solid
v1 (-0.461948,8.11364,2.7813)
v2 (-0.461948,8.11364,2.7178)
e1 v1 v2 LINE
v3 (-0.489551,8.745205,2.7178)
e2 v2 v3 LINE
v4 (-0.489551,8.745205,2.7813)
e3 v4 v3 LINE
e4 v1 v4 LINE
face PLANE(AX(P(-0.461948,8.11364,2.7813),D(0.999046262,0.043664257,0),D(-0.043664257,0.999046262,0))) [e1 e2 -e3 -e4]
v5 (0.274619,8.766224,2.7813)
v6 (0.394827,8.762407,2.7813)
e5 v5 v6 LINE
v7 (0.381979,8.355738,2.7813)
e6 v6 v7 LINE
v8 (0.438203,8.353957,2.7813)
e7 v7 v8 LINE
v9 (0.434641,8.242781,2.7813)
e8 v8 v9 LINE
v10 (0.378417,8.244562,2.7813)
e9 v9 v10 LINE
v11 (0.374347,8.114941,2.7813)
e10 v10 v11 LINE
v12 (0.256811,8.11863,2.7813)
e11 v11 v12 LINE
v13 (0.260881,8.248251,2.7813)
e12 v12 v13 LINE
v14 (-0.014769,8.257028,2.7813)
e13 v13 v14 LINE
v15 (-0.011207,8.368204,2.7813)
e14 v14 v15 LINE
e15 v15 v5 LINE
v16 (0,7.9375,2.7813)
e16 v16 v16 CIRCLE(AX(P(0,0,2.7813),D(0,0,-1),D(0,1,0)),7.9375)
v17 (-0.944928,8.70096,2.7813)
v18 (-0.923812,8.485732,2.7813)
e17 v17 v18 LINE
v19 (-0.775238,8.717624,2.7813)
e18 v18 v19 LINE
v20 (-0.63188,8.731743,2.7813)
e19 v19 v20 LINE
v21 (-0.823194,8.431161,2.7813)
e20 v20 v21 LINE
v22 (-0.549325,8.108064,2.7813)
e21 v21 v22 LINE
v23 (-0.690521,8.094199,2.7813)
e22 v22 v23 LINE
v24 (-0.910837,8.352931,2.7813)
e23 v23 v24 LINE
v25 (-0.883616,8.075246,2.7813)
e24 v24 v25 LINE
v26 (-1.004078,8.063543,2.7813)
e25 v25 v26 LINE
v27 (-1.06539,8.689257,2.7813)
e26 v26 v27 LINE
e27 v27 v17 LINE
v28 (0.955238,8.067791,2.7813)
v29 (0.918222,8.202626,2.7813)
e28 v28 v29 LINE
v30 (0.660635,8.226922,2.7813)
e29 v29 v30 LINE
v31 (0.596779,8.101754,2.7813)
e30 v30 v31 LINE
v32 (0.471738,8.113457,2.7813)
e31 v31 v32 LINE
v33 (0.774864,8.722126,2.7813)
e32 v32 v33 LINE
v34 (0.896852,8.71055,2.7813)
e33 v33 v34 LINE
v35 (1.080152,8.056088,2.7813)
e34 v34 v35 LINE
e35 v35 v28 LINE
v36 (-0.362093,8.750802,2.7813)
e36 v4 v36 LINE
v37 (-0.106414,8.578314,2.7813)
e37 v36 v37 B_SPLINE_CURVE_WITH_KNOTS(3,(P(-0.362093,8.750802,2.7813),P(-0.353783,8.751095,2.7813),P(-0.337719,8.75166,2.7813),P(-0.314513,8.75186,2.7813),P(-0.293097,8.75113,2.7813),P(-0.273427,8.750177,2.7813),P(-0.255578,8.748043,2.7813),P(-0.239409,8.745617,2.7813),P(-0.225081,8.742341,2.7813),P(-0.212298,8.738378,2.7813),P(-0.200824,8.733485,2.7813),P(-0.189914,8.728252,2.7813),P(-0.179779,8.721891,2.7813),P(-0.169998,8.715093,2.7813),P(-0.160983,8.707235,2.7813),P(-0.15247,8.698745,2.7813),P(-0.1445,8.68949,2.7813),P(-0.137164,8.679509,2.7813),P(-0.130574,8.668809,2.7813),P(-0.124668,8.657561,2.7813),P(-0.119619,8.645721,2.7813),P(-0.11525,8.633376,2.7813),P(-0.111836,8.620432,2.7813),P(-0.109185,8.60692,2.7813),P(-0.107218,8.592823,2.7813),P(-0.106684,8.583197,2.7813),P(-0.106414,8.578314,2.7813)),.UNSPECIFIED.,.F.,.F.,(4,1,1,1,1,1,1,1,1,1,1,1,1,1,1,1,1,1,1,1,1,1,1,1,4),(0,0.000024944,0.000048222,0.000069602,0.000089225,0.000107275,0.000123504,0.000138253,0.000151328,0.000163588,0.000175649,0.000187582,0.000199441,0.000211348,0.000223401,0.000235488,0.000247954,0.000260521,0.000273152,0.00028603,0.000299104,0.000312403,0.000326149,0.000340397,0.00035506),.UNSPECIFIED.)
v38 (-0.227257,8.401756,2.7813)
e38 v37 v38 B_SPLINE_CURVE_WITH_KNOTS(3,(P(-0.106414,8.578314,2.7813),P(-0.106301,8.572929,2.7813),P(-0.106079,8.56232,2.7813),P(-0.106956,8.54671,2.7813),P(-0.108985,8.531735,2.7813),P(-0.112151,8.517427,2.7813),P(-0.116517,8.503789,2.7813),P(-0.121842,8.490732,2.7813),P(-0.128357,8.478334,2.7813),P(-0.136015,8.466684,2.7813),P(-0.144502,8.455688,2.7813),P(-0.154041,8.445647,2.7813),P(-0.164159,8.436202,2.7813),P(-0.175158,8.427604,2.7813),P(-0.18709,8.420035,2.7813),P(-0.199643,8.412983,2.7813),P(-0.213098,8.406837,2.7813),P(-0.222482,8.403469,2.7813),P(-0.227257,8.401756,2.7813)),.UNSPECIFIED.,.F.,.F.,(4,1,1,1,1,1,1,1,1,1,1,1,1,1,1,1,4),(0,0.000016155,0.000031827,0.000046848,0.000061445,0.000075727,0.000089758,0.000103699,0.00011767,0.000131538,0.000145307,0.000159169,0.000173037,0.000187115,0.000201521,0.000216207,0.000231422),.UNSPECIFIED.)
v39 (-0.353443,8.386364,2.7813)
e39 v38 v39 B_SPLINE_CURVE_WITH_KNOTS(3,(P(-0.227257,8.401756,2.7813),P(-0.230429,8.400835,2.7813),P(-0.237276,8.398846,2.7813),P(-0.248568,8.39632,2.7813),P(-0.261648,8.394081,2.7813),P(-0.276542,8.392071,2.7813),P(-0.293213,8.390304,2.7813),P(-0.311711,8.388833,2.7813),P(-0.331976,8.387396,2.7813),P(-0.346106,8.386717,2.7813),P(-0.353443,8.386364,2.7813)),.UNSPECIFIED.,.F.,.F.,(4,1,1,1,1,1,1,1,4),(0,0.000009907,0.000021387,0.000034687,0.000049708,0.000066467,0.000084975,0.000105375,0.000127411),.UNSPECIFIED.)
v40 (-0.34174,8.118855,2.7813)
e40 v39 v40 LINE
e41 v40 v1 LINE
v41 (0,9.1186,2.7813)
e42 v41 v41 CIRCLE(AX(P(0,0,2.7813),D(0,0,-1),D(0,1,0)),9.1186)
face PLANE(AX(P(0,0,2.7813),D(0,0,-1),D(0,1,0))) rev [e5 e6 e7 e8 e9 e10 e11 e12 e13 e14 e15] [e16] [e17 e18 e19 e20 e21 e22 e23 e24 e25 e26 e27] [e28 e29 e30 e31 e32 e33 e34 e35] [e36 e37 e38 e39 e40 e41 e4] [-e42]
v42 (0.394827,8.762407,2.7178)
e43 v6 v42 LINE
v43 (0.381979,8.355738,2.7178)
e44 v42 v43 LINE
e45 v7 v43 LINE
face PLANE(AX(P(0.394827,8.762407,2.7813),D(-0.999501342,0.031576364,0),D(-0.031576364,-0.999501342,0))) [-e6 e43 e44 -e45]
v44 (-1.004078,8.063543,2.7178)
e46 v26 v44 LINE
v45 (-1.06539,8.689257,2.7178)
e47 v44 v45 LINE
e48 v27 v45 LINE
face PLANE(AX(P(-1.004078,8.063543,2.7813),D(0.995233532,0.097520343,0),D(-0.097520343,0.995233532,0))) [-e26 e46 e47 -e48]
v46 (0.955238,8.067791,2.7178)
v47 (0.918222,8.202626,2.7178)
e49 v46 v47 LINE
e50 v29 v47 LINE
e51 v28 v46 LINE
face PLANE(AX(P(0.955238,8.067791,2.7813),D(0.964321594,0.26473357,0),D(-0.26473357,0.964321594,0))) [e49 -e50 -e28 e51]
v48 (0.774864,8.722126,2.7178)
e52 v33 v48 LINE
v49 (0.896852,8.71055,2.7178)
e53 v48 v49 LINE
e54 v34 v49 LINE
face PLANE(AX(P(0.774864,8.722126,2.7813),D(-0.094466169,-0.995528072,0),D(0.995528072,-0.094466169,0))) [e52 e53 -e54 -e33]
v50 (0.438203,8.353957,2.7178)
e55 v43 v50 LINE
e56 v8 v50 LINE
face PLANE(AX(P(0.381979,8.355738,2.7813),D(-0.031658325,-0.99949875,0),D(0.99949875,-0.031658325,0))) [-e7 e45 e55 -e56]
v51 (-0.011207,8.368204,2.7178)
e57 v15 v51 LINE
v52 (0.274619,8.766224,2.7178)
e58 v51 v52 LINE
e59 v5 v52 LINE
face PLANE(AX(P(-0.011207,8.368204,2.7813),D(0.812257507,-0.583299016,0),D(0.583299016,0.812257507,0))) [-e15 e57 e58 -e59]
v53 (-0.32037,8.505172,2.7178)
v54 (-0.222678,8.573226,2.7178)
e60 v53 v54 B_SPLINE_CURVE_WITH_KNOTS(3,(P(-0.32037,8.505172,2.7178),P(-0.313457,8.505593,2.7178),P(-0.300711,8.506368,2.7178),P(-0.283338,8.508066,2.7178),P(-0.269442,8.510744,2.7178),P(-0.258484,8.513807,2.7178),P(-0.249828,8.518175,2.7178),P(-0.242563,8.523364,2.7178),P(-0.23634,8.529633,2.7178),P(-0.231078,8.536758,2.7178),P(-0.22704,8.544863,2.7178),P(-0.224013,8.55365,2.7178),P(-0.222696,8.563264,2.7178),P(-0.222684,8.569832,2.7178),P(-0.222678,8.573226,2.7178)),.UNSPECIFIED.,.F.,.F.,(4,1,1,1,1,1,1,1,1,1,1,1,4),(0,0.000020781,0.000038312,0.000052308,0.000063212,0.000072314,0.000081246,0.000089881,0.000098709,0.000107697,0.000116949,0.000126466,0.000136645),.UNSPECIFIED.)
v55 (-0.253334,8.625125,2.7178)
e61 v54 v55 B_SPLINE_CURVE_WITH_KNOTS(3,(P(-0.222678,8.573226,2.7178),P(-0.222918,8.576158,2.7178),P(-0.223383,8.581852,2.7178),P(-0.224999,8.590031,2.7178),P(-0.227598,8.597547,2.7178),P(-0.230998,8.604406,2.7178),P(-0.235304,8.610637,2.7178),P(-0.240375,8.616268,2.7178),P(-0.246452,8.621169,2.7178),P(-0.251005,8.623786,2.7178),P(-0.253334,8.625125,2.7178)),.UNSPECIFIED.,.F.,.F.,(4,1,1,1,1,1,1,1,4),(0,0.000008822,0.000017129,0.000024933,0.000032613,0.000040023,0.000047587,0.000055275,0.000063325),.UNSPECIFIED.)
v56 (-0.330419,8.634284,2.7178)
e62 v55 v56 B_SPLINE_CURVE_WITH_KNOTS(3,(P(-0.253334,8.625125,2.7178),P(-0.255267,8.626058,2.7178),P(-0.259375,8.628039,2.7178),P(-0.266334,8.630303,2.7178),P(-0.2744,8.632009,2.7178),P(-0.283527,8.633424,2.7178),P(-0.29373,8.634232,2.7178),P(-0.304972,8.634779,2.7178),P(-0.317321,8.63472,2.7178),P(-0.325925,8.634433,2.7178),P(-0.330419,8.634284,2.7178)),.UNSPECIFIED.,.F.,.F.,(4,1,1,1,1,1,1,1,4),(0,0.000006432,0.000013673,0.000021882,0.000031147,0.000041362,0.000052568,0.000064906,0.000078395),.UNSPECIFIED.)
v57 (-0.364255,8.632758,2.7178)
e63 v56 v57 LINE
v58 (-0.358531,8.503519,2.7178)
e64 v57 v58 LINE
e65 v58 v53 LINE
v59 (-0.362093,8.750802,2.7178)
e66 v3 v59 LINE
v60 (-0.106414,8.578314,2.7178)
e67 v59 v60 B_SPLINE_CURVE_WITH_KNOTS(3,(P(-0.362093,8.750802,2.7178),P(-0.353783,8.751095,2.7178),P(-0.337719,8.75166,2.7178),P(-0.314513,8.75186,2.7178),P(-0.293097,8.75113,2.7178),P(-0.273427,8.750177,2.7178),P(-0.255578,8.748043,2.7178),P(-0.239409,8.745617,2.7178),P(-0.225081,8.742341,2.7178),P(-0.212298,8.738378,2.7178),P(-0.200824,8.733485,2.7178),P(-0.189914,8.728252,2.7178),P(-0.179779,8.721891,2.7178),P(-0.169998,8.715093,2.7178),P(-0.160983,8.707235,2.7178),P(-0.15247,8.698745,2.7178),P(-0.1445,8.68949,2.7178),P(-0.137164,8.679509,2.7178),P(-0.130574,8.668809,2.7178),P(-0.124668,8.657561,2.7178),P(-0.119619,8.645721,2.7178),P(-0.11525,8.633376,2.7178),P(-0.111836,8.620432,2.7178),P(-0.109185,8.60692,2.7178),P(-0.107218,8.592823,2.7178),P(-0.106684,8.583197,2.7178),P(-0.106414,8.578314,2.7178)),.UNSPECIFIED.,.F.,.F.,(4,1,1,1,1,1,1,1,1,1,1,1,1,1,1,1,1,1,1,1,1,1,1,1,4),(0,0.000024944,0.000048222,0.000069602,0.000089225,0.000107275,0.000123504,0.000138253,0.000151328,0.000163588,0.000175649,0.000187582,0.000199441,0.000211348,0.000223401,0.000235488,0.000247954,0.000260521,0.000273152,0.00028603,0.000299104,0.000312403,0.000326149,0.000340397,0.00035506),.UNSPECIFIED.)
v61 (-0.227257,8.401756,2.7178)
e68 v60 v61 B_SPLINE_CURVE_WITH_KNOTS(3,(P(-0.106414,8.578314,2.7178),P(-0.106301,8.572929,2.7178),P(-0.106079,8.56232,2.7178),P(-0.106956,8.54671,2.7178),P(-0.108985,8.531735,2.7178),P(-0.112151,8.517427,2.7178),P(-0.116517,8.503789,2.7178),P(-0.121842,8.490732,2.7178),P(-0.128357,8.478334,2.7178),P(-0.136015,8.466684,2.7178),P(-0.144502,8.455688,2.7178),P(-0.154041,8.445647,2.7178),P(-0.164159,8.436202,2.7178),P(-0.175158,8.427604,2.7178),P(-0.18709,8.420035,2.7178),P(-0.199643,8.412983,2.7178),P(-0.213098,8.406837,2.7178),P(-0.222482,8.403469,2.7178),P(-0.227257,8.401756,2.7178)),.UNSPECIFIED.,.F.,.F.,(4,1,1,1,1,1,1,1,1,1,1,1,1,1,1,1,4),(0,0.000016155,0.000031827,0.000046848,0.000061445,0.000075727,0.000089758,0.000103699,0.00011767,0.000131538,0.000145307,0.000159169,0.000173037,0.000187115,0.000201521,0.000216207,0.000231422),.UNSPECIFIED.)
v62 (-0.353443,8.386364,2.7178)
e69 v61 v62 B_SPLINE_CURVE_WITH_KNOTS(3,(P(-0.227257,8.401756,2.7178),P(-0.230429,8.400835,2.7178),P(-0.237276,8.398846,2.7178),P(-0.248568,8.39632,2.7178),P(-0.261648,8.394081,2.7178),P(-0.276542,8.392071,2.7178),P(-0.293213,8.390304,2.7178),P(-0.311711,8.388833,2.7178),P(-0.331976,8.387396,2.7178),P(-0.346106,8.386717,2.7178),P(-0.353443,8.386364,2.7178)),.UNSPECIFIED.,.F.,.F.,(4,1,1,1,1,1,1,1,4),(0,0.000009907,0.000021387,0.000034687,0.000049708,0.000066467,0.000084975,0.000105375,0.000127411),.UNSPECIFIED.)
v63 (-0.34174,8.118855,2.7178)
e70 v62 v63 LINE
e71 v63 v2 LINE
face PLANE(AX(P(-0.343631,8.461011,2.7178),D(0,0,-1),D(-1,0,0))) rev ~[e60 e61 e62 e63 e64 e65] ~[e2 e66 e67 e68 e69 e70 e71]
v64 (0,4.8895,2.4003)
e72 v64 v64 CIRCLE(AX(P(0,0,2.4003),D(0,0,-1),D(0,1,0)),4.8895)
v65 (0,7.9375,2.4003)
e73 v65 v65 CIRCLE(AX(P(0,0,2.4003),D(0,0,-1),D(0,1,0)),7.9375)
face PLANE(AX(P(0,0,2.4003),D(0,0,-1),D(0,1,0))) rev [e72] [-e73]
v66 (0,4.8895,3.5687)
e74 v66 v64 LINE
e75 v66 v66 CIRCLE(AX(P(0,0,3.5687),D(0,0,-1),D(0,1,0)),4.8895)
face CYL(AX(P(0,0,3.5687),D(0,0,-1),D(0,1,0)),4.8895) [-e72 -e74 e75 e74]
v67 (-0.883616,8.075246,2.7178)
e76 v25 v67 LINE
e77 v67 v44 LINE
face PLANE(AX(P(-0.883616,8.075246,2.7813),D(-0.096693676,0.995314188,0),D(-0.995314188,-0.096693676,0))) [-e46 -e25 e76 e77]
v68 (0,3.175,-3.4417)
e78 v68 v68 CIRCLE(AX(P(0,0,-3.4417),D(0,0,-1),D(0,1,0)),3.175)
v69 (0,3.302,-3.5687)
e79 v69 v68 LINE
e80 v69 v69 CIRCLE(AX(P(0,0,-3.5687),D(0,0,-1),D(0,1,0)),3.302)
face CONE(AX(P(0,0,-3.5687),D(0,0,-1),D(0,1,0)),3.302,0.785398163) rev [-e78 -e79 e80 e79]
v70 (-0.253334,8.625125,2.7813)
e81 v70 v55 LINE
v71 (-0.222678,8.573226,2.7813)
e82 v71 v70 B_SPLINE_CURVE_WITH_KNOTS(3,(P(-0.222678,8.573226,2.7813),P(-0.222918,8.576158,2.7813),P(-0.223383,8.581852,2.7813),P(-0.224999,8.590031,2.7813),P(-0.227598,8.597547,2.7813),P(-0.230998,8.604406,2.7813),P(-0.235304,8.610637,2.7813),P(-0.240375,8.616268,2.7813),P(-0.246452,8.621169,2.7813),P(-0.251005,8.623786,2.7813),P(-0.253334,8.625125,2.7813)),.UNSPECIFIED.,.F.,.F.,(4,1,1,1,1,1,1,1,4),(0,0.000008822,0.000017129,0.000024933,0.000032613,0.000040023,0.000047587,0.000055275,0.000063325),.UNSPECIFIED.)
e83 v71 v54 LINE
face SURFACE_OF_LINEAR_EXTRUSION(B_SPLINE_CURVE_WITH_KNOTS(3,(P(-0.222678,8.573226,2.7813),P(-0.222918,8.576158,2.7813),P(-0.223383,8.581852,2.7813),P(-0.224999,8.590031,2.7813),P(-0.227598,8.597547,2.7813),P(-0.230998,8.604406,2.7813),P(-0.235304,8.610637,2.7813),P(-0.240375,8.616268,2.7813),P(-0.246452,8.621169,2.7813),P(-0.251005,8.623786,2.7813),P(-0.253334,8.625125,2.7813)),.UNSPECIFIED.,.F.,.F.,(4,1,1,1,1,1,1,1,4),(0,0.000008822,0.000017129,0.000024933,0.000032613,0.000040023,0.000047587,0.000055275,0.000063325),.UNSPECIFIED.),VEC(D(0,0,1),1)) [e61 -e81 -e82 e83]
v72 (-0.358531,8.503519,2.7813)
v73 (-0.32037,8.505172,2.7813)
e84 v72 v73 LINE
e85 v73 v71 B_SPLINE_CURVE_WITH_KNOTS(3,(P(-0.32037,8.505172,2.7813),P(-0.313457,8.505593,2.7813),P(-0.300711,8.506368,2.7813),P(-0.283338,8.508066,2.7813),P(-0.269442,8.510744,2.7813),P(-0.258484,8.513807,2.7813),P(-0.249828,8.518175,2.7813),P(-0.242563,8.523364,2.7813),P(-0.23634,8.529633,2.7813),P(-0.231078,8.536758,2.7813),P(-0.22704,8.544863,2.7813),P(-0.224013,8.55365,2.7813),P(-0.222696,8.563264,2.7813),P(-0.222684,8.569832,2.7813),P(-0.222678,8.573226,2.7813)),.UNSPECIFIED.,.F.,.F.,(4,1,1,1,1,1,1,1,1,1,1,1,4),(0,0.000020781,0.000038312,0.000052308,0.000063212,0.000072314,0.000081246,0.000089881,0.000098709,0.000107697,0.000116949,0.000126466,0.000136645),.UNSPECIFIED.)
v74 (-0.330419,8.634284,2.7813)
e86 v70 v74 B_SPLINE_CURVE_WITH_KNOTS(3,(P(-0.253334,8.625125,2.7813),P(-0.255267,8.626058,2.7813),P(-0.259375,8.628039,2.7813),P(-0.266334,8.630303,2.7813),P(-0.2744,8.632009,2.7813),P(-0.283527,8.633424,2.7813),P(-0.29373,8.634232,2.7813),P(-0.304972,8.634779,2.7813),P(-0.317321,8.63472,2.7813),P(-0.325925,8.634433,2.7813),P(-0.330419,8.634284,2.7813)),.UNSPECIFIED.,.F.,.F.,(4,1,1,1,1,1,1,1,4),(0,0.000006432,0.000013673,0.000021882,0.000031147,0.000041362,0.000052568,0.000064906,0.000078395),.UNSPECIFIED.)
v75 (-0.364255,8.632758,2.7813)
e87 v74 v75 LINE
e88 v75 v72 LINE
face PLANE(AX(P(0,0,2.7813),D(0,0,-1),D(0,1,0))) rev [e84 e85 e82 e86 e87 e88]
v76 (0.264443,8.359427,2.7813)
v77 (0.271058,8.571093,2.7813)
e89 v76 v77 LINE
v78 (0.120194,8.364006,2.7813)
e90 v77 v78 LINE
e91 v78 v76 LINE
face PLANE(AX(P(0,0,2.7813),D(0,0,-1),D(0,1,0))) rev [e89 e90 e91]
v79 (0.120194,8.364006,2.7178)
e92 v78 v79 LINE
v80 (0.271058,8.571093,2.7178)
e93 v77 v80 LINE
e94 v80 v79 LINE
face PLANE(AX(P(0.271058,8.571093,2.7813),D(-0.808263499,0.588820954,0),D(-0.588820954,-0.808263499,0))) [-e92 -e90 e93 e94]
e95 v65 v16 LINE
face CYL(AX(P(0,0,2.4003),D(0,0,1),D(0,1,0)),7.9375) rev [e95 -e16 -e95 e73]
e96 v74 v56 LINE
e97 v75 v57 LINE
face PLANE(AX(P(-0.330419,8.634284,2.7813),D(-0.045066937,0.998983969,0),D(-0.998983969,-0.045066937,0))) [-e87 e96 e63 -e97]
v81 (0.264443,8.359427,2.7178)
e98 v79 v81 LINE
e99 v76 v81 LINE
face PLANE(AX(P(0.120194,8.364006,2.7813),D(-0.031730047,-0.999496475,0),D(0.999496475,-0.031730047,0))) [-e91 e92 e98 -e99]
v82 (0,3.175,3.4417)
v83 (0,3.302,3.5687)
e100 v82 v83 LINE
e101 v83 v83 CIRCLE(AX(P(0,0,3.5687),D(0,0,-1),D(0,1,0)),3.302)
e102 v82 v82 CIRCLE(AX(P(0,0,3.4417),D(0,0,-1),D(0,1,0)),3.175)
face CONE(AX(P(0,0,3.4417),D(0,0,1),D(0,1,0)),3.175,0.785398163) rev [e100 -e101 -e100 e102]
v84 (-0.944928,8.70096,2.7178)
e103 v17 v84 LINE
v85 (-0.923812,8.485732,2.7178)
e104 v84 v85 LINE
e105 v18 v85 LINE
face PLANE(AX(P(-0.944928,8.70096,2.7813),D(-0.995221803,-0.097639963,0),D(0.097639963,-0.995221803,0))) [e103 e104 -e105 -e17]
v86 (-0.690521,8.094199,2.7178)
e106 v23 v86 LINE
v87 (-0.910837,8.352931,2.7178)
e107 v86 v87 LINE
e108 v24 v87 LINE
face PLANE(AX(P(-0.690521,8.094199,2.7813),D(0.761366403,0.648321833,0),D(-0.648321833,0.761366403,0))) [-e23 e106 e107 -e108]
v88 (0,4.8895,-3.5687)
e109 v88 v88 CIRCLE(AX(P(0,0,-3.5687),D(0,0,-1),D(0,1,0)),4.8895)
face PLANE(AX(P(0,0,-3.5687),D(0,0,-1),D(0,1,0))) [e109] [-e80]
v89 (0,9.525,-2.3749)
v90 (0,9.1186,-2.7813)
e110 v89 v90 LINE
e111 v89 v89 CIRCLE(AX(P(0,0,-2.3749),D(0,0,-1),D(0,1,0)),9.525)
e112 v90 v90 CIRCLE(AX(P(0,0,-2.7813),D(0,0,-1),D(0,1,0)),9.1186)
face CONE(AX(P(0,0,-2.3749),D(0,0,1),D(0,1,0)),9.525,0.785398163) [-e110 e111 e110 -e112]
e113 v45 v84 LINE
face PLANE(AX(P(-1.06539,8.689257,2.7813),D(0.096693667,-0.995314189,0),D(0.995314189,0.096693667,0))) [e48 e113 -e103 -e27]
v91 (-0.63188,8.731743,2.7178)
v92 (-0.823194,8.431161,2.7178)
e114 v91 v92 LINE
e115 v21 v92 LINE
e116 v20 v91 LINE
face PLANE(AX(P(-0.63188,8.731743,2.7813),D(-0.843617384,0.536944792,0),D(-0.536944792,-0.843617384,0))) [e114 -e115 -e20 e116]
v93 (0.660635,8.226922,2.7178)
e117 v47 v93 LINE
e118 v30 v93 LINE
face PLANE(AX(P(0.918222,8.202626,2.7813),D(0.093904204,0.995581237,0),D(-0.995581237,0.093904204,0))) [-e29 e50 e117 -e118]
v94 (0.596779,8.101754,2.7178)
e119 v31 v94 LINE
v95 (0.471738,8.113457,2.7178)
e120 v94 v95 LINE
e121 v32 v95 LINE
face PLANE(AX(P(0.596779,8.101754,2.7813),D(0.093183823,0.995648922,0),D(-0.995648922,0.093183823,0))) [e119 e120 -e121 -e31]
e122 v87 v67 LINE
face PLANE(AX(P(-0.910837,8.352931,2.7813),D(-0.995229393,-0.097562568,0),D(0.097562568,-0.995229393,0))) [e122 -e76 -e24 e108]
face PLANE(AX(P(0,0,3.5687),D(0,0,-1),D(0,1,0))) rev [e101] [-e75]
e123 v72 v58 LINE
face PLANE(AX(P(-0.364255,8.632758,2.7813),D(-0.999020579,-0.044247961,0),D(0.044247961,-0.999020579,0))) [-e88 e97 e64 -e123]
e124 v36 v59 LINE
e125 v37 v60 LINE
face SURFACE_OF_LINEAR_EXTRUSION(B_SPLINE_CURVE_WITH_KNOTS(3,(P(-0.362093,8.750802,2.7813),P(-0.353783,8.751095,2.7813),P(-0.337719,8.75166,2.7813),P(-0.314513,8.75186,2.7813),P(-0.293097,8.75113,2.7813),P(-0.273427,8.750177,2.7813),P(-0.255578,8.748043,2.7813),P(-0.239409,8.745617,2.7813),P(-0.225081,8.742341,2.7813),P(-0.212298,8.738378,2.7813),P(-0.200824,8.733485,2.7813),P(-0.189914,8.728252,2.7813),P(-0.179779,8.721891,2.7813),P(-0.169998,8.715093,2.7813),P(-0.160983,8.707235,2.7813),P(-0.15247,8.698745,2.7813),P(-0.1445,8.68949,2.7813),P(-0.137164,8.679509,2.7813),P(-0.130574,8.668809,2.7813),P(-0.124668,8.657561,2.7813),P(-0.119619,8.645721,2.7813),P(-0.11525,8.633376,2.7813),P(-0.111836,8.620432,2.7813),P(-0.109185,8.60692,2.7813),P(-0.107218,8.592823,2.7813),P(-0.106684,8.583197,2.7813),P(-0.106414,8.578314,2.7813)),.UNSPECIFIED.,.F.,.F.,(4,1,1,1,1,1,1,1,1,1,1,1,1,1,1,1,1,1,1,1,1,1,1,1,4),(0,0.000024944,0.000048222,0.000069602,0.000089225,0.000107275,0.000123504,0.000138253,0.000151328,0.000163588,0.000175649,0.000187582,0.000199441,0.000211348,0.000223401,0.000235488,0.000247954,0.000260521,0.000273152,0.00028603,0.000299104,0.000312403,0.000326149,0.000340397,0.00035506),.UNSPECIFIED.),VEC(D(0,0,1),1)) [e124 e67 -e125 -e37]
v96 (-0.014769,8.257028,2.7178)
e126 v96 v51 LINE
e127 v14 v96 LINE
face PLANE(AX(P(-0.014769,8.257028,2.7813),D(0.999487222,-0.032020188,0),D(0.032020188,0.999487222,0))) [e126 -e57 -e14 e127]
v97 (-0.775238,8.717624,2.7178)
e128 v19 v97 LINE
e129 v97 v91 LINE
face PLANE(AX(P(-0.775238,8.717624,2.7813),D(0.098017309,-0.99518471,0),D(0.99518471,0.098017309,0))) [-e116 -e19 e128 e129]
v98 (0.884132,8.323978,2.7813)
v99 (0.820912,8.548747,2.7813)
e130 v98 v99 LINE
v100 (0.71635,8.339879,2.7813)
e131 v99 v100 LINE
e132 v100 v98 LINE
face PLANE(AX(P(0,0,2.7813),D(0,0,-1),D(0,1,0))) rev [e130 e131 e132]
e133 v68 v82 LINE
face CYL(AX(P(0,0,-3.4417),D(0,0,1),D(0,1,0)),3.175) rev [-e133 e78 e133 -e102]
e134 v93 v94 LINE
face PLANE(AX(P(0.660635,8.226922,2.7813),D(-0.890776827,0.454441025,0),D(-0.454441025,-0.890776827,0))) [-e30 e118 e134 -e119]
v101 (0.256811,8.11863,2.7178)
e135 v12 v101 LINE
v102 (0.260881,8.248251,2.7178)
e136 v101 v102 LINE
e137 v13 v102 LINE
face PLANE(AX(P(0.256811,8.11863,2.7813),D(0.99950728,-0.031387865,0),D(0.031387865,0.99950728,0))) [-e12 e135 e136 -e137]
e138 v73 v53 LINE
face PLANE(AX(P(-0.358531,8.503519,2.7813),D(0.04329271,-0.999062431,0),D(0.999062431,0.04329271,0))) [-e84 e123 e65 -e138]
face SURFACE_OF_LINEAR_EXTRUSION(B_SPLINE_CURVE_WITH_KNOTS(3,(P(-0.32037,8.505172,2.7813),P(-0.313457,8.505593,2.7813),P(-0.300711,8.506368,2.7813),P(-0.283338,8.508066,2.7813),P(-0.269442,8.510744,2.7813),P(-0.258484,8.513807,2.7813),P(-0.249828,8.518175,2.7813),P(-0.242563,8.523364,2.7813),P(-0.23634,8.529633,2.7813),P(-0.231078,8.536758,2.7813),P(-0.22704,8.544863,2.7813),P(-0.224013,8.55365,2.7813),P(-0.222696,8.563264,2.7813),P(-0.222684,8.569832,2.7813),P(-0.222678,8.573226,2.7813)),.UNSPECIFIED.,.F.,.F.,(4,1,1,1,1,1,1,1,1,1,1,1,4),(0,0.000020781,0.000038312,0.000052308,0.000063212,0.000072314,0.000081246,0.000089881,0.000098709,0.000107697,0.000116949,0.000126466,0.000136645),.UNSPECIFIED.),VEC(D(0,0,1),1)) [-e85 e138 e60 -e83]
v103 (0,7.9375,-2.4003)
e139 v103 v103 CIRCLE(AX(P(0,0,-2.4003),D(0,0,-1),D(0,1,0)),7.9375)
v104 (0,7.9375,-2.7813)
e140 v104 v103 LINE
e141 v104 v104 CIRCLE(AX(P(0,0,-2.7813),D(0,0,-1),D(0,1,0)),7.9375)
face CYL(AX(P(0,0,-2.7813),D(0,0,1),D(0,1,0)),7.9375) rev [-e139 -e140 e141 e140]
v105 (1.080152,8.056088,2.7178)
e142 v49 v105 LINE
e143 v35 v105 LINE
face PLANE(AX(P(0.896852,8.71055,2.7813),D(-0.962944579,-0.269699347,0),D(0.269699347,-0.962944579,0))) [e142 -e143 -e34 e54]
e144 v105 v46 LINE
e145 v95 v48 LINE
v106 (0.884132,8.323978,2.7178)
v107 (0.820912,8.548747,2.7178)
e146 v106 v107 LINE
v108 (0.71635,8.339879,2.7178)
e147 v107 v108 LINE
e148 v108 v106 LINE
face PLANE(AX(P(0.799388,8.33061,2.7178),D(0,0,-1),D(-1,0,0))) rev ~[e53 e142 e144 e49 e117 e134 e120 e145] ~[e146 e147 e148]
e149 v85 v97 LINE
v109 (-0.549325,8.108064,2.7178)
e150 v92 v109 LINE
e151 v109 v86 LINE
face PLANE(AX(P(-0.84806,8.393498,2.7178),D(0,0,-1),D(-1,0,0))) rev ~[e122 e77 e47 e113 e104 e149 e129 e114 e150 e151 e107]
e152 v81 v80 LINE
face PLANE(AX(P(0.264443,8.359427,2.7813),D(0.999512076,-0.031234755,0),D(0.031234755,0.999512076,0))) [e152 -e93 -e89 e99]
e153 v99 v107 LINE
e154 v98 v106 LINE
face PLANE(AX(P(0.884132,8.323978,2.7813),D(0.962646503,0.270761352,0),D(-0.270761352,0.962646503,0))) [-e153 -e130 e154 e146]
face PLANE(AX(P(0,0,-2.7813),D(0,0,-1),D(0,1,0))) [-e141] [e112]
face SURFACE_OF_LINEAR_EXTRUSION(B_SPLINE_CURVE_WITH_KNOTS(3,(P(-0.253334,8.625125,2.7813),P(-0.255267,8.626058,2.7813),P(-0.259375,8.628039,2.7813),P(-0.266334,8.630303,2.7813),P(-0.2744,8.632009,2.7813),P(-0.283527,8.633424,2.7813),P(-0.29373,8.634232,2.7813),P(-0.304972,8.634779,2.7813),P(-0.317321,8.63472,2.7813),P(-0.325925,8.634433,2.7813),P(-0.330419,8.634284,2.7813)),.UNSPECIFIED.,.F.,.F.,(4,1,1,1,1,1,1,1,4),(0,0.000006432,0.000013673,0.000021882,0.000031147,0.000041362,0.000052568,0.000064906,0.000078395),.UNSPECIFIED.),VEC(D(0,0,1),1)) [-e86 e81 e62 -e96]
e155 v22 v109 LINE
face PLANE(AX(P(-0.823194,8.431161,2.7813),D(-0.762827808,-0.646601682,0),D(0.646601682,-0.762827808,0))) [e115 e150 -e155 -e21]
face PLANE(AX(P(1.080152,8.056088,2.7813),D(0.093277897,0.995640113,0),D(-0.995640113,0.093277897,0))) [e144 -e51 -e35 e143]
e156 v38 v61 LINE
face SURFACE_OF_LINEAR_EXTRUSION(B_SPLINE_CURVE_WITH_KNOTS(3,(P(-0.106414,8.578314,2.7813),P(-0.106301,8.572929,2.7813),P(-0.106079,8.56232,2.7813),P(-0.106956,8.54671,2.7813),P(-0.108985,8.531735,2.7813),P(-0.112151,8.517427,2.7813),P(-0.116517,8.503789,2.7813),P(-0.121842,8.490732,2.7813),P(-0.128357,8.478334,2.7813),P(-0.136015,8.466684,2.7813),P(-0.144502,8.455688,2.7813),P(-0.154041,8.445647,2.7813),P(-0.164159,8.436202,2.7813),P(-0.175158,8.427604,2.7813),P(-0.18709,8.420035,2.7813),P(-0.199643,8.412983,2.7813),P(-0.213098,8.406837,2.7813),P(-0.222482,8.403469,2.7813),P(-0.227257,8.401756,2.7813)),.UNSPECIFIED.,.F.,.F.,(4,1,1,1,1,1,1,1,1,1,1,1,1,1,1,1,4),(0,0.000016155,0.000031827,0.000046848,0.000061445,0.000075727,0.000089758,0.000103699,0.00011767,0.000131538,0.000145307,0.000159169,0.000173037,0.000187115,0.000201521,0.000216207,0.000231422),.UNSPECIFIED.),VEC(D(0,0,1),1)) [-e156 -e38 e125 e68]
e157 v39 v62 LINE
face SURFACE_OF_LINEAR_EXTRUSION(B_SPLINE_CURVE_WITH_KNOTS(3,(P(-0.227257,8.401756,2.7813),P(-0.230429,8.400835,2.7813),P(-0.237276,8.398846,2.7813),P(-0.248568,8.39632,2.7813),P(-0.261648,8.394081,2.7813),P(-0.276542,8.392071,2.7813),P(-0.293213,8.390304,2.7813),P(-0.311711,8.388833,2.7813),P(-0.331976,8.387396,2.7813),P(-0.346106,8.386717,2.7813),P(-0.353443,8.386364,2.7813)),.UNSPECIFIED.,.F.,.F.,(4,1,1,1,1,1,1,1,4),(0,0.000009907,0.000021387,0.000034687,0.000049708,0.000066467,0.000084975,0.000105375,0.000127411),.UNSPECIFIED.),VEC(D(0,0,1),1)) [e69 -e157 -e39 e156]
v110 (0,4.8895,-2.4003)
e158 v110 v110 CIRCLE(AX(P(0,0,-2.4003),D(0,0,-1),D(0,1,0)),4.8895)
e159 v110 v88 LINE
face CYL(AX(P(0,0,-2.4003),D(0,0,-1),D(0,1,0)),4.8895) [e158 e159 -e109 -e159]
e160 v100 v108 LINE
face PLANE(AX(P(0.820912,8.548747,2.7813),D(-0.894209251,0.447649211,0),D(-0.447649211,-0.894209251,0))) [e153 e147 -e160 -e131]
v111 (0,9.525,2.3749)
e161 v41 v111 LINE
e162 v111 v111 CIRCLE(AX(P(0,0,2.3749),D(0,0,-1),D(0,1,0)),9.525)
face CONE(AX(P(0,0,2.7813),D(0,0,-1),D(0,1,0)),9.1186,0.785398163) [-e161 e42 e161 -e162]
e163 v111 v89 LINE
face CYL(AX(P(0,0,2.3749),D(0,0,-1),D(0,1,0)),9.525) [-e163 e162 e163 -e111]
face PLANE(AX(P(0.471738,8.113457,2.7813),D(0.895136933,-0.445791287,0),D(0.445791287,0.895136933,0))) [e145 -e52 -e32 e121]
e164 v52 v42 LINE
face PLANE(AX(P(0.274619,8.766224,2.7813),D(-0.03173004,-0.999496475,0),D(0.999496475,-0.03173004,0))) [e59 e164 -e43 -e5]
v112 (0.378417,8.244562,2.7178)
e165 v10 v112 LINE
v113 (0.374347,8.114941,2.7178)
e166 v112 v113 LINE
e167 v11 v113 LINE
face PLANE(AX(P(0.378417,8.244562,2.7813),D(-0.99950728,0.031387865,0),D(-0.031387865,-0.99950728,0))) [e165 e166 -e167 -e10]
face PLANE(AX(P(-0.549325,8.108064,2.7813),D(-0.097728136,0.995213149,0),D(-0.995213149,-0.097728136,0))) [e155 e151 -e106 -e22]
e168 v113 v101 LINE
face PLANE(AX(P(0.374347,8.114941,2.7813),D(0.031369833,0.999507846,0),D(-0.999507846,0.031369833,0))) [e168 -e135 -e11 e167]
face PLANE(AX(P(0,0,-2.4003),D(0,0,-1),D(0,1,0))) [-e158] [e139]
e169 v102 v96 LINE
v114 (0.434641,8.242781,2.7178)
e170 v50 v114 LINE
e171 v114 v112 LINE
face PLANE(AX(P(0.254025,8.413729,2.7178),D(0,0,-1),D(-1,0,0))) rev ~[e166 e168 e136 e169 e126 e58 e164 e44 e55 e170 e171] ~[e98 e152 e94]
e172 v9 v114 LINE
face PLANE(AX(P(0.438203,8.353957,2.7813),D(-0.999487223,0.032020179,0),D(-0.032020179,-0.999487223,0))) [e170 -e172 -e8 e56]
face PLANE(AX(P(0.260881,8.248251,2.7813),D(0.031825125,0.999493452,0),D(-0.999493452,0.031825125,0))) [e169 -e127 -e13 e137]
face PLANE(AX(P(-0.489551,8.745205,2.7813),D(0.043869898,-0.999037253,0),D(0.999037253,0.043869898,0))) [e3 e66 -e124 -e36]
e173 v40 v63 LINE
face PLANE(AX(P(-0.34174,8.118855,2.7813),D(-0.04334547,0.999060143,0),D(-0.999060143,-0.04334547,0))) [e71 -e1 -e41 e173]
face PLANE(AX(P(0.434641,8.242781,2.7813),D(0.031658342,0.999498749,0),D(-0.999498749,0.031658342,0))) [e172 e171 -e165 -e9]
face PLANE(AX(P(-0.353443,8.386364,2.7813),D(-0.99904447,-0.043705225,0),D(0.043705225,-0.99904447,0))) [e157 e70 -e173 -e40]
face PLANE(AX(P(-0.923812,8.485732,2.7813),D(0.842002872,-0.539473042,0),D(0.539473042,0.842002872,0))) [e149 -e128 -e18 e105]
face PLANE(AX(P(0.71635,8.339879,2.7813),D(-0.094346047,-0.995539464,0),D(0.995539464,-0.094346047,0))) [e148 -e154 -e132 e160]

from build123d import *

# Parameters (mm, degrees)
CUT_EXTRUDE1_DEPTH = 0.0635


with BuildPart() as part:
    # Sketch1 → Revolve1 (revolve)
    with BuildSketch(Plane(origin=(0, 0, 0), x_dir=(0, 0, -1), z_dir=(1, 0, 0))):
        Polygon((-3.5687, 3.302), (-3.5687, 4.8895), (-2.4003, 4.8895), (-2.4003, 7.9375), (-2.7813, 7.9375), (-2.7813, 9.1186), (-2.3749, 9.525), (2.3749, 9.525), (2.7813, 9.1186), (2.7813, 7.9375), (2.4003, 7.9375), (2.4003, 4.8895), (3.5687, 4.8895), (3.5687, 3.302), (3.4417, 3.175), (-3.4417, 3.175), align=None)
    revolve(axis=Axis((0, 0, 0), (0, 0, -1)))

    # Sketch2 → Cut-Extrude1 (cut)
    with BuildSketch(Plane.XY.offset(2.7813)):
        Polygon((-1.065389716, 8.689257304), (-0.944927977, 8.700960028), (-0.923812192, 8.485731663), (-0.775238474, 8.71762369), (-0.6318801, 8.731743282), (-0.823194203, 8.43116135), (-0.549325012, 8.108064395), (-0.690520926, 8.094199211), (-0.910837432, 8.352931182), (-0.883615878, 8.075245886), (-1.004077616, 8.063543161), align=None)
        with BuildLine():
            Line((-0.489550779, 8.745205417), (-0.362092846, 8.750802372))
            add(Edge.make_bspline(
                [(-0.362092846, 8.750802372), (-0.353783496, 8.751094885), (-0.337719442, 8.751660387), (-0.314512555, 8.751859917), (-0.293097259, 8.751130036), (-0.273426615, 8.750177126), (-0.25557832, 8.748042626), (-0.239408839, 8.745617462), (-0.225080822, 8.742341467), (-0.212298345, 8.738378299), (-0.200823557, 8.733485202), (-0.189914069, 8.728251603), (-0.179779185, 8.721890908), (-0.169997559, 8.715093426), (-0.160982847, 8.707235014), (-0.152469707, 8.698745309), (-0.144499674, 8.68948952), (-0.137163657, 8.679508609), (-0.130573946, 8.668808831), (-0.124668367, 8.657561061), (-0.119619418, 8.645720508), (-0.115250492, 8.633375845), (-0.111835881, 8.620431699), (-0.109185181, 8.606920008), (-0.107217999, 8.592822714), (-0.106684397, 8.583196649), (-0.106413759, 8.578314391)],
                knots=[0, 0, 0, 0, 2.4944e-05, 4.8222e-05, 6.9602e-05, 8.9225e-05, 0.000107275, 0.000123504, 0.000138253, 0.000151328, 0.000163588, 0.000175649, 0.000187582, 0.000199441, 0.000211348, 0.000223401, 0.000235488, 0.000247954, 0.000260521, 0.000273152, 0.00028603, 0.000299104, 0.000312403, 0.000326149, 0.000340397, 0.00035506, 0.00035506, 0.00035506, 0.00035506], degree=3))
            add(Edge.make_bspline(
                [(-0.106413759, 8.578314391), (-0.106301145, 8.57292907), (-0.106079291, 8.562319767), (-0.106956067, 8.546709533), (-0.108985222, 8.531734852), (-0.112150836, 8.517427274), (-0.116516958, 8.503788963), (-0.121841952, 8.490732201), (-0.128357362, 8.47833375), (-0.136015471, 8.466683627), (-0.144501712, 8.455688158), (-0.154040626, 8.445647342), (-0.164159304, 8.436201955), (-0.175157805, 8.427603876), (-0.187090246, 8.420035009), (-0.19964346, 8.412982658), (-0.213097771, 8.406836734), (-0.222481909, 8.403469396), (-0.227257109, 8.401755898)],
                knots=[0, 0, 0, 0, 1.6155e-05, 3.1827e-05, 4.6848e-05, 6.1445e-05, 7.5727e-05, 8.9758e-05, 0.000103699, 0.00011767, 0.000131538, 0.000145307, 0.000159169, 0.000173037, 0.000187115, 0.000201521, 0.000216207, 0.000231422, 0.000231422, 0.000231422, 0.000231422], degree=3))
            add(Edge.make_bspline(
                [(-0.227257109, 8.401755898), (-0.230428994, 8.40083463), (-0.237276115, 8.398845897), (-0.248567522, 8.396319688), (-0.261647847, 8.394081399), (-0.276541992, 8.392071054), (-0.293213358, 8.390303809), (-0.3117114, 8.388833395), (-0.331976204, 8.387396251), (-0.346105902, 8.38671699), (-0.353443006, 8.386364271)],
                knots=[0, 0, 0, 0, 9.907e-06, 2.1387e-05, 3.4687e-05, 4.9708e-05, 6.6467e-05, 8.4975e-05, 0.000105375, 0.000127411, 0.000127411, 0.000127411, 0.000127411], degree=3))
            Line((-0.353443006, 8.386364271), (-0.341740282, 8.118855257))
            Line((-0.341740282, 8.118855257), (-0.461947614, 8.113639912))
            Line((-0.461947614, 8.113639912), (-0.489550779, 8.745205417))
        make_face()
        with BuildLine():
            Line((-0.358531147, 8.503518718), (-0.32037009, 8.505172364))
            add(Edge.make_bspline(
                [(-0.32037009, 8.505172364), (-0.313456644, 8.505592798), (-0.300711051, 8.506367909), (-0.283338162, 8.508066241), (-0.269442305, 8.510743628), (-0.258483675, 8.513806757), (-0.249827521, 8.518175494), (-0.242563252, 8.523364305), (-0.236339925, 8.529632522), (-0.231078239, 8.53675751), (-0.227040183, 8.54486288), (-0.224012592, 8.553649742), (-0.222695566, 8.563264025), (-0.222683841, 8.569831817), (-0.222677782, 8.57322625)],
                knots=[0, 0, 0, 0, 2.0781e-05, 3.8312e-05, 5.2308e-05, 6.3212e-05, 7.2314e-05, 8.1246e-05, 8.9881e-05, 9.8709e-05, 0.000107697, 0.000116949, 0.000126466, 0.000136645, 0.000136645, 0.000136645, 0.000136645], degree=3))
            add(Edge.make_bspline(
                [(-0.222677782, 8.57322625), (-0.222917637, 8.576158471), (-0.22338335, 8.581851802), (-0.224998846, 8.590031341), (-0.227597902, 8.59754684), (-0.23099774, 8.604406251), (-0.235304004, 8.610636746), (-0.240375218, 8.61626779), (-0.246452189, 8.62116902), (-0.251005053, 8.62378647), (-0.253333831, 8.625125289)],
                knots=[0, 0, 0, 0, 8.822e-06, 1.7129e-05, 2.4933e-05, 3.2613e-05, 4.0023e-05, 4.7587e-05, 5.5275e-05, 6.3325e-05, 6.3325e-05, 6.3325e-05, 6.3325e-05], degree=3))
            add(Edge.make_bspline(
                [(-0.253333831, 8.625125289), (-0.255266589, 8.626057529), (-0.259374974, 8.628039155), (-0.266333987, 8.630303419), (-0.274399852, 8.632008988), (-0.283527412, 8.633423979), (-0.293729577, 8.634232301), (-0.304971839, 8.634778726), (-0.31732103, 8.634719634), (-0.325925391, 8.634433422), (-0.330419168, 8.634283942)],
                knots=[0, 0, 0, 0, 6.432e-06, 1.3673e-05, 2.1882e-05, 3.1147e-05, 4.1362e-05, 5.2568e-05, 6.4906e-05, 7.8395e-05, 7.8395e-05, 7.8395e-05, 7.8395e-05], degree=3))
            Line((-0.330419168, 8.634283942), (-0.364255306, 8.6327575))
            Line((-0.364255306, 8.6327575), (-0.358531147, 8.503518718))
        make_face(mode=Mode.SUBTRACT)
        Polygon((0.274619381, 8.766223521), (0.394826713, 8.762407416), (0.381979157, 8.355737744), (0.438203115, 8.353956895), (0.434641417, 8.242781013), (0.378417458, 8.244561863), (0.374346945, 8.11494147), (0.256810888, 8.118630372), (0.260881401, 8.248250765), (-0.01476864, 8.257027808), (-0.011206941, 8.36820369), align=None)
        Polygon((0.264443099, 8.359426646), (0.271057683, 8.571093313), (0.120194301, 8.364005973), align=None, mode=Mode.SUBTRACT)
        Polygon((0.774863847, 8.722125534), (0.896852028, 8.710550013), (1.080152309, 8.056087873), (0.955238446, 8.067790598), (0.91822222, 8.202626335), (0.660635081, 8.226922208), (0.596778911, 8.101753939), (0.471737845, 8.113456663), align=None)
        Polygon((0.820911523, 8.548747128), (0.716350225, 8.339878939), (0.884131675, 8.323978498), align=None, mode=Mode.SUBTRACT)
    extrude(amount=-CUT_EXTRUDE1_DEPTH, mode=Mode.SUBTRACT)


solid = part.part
